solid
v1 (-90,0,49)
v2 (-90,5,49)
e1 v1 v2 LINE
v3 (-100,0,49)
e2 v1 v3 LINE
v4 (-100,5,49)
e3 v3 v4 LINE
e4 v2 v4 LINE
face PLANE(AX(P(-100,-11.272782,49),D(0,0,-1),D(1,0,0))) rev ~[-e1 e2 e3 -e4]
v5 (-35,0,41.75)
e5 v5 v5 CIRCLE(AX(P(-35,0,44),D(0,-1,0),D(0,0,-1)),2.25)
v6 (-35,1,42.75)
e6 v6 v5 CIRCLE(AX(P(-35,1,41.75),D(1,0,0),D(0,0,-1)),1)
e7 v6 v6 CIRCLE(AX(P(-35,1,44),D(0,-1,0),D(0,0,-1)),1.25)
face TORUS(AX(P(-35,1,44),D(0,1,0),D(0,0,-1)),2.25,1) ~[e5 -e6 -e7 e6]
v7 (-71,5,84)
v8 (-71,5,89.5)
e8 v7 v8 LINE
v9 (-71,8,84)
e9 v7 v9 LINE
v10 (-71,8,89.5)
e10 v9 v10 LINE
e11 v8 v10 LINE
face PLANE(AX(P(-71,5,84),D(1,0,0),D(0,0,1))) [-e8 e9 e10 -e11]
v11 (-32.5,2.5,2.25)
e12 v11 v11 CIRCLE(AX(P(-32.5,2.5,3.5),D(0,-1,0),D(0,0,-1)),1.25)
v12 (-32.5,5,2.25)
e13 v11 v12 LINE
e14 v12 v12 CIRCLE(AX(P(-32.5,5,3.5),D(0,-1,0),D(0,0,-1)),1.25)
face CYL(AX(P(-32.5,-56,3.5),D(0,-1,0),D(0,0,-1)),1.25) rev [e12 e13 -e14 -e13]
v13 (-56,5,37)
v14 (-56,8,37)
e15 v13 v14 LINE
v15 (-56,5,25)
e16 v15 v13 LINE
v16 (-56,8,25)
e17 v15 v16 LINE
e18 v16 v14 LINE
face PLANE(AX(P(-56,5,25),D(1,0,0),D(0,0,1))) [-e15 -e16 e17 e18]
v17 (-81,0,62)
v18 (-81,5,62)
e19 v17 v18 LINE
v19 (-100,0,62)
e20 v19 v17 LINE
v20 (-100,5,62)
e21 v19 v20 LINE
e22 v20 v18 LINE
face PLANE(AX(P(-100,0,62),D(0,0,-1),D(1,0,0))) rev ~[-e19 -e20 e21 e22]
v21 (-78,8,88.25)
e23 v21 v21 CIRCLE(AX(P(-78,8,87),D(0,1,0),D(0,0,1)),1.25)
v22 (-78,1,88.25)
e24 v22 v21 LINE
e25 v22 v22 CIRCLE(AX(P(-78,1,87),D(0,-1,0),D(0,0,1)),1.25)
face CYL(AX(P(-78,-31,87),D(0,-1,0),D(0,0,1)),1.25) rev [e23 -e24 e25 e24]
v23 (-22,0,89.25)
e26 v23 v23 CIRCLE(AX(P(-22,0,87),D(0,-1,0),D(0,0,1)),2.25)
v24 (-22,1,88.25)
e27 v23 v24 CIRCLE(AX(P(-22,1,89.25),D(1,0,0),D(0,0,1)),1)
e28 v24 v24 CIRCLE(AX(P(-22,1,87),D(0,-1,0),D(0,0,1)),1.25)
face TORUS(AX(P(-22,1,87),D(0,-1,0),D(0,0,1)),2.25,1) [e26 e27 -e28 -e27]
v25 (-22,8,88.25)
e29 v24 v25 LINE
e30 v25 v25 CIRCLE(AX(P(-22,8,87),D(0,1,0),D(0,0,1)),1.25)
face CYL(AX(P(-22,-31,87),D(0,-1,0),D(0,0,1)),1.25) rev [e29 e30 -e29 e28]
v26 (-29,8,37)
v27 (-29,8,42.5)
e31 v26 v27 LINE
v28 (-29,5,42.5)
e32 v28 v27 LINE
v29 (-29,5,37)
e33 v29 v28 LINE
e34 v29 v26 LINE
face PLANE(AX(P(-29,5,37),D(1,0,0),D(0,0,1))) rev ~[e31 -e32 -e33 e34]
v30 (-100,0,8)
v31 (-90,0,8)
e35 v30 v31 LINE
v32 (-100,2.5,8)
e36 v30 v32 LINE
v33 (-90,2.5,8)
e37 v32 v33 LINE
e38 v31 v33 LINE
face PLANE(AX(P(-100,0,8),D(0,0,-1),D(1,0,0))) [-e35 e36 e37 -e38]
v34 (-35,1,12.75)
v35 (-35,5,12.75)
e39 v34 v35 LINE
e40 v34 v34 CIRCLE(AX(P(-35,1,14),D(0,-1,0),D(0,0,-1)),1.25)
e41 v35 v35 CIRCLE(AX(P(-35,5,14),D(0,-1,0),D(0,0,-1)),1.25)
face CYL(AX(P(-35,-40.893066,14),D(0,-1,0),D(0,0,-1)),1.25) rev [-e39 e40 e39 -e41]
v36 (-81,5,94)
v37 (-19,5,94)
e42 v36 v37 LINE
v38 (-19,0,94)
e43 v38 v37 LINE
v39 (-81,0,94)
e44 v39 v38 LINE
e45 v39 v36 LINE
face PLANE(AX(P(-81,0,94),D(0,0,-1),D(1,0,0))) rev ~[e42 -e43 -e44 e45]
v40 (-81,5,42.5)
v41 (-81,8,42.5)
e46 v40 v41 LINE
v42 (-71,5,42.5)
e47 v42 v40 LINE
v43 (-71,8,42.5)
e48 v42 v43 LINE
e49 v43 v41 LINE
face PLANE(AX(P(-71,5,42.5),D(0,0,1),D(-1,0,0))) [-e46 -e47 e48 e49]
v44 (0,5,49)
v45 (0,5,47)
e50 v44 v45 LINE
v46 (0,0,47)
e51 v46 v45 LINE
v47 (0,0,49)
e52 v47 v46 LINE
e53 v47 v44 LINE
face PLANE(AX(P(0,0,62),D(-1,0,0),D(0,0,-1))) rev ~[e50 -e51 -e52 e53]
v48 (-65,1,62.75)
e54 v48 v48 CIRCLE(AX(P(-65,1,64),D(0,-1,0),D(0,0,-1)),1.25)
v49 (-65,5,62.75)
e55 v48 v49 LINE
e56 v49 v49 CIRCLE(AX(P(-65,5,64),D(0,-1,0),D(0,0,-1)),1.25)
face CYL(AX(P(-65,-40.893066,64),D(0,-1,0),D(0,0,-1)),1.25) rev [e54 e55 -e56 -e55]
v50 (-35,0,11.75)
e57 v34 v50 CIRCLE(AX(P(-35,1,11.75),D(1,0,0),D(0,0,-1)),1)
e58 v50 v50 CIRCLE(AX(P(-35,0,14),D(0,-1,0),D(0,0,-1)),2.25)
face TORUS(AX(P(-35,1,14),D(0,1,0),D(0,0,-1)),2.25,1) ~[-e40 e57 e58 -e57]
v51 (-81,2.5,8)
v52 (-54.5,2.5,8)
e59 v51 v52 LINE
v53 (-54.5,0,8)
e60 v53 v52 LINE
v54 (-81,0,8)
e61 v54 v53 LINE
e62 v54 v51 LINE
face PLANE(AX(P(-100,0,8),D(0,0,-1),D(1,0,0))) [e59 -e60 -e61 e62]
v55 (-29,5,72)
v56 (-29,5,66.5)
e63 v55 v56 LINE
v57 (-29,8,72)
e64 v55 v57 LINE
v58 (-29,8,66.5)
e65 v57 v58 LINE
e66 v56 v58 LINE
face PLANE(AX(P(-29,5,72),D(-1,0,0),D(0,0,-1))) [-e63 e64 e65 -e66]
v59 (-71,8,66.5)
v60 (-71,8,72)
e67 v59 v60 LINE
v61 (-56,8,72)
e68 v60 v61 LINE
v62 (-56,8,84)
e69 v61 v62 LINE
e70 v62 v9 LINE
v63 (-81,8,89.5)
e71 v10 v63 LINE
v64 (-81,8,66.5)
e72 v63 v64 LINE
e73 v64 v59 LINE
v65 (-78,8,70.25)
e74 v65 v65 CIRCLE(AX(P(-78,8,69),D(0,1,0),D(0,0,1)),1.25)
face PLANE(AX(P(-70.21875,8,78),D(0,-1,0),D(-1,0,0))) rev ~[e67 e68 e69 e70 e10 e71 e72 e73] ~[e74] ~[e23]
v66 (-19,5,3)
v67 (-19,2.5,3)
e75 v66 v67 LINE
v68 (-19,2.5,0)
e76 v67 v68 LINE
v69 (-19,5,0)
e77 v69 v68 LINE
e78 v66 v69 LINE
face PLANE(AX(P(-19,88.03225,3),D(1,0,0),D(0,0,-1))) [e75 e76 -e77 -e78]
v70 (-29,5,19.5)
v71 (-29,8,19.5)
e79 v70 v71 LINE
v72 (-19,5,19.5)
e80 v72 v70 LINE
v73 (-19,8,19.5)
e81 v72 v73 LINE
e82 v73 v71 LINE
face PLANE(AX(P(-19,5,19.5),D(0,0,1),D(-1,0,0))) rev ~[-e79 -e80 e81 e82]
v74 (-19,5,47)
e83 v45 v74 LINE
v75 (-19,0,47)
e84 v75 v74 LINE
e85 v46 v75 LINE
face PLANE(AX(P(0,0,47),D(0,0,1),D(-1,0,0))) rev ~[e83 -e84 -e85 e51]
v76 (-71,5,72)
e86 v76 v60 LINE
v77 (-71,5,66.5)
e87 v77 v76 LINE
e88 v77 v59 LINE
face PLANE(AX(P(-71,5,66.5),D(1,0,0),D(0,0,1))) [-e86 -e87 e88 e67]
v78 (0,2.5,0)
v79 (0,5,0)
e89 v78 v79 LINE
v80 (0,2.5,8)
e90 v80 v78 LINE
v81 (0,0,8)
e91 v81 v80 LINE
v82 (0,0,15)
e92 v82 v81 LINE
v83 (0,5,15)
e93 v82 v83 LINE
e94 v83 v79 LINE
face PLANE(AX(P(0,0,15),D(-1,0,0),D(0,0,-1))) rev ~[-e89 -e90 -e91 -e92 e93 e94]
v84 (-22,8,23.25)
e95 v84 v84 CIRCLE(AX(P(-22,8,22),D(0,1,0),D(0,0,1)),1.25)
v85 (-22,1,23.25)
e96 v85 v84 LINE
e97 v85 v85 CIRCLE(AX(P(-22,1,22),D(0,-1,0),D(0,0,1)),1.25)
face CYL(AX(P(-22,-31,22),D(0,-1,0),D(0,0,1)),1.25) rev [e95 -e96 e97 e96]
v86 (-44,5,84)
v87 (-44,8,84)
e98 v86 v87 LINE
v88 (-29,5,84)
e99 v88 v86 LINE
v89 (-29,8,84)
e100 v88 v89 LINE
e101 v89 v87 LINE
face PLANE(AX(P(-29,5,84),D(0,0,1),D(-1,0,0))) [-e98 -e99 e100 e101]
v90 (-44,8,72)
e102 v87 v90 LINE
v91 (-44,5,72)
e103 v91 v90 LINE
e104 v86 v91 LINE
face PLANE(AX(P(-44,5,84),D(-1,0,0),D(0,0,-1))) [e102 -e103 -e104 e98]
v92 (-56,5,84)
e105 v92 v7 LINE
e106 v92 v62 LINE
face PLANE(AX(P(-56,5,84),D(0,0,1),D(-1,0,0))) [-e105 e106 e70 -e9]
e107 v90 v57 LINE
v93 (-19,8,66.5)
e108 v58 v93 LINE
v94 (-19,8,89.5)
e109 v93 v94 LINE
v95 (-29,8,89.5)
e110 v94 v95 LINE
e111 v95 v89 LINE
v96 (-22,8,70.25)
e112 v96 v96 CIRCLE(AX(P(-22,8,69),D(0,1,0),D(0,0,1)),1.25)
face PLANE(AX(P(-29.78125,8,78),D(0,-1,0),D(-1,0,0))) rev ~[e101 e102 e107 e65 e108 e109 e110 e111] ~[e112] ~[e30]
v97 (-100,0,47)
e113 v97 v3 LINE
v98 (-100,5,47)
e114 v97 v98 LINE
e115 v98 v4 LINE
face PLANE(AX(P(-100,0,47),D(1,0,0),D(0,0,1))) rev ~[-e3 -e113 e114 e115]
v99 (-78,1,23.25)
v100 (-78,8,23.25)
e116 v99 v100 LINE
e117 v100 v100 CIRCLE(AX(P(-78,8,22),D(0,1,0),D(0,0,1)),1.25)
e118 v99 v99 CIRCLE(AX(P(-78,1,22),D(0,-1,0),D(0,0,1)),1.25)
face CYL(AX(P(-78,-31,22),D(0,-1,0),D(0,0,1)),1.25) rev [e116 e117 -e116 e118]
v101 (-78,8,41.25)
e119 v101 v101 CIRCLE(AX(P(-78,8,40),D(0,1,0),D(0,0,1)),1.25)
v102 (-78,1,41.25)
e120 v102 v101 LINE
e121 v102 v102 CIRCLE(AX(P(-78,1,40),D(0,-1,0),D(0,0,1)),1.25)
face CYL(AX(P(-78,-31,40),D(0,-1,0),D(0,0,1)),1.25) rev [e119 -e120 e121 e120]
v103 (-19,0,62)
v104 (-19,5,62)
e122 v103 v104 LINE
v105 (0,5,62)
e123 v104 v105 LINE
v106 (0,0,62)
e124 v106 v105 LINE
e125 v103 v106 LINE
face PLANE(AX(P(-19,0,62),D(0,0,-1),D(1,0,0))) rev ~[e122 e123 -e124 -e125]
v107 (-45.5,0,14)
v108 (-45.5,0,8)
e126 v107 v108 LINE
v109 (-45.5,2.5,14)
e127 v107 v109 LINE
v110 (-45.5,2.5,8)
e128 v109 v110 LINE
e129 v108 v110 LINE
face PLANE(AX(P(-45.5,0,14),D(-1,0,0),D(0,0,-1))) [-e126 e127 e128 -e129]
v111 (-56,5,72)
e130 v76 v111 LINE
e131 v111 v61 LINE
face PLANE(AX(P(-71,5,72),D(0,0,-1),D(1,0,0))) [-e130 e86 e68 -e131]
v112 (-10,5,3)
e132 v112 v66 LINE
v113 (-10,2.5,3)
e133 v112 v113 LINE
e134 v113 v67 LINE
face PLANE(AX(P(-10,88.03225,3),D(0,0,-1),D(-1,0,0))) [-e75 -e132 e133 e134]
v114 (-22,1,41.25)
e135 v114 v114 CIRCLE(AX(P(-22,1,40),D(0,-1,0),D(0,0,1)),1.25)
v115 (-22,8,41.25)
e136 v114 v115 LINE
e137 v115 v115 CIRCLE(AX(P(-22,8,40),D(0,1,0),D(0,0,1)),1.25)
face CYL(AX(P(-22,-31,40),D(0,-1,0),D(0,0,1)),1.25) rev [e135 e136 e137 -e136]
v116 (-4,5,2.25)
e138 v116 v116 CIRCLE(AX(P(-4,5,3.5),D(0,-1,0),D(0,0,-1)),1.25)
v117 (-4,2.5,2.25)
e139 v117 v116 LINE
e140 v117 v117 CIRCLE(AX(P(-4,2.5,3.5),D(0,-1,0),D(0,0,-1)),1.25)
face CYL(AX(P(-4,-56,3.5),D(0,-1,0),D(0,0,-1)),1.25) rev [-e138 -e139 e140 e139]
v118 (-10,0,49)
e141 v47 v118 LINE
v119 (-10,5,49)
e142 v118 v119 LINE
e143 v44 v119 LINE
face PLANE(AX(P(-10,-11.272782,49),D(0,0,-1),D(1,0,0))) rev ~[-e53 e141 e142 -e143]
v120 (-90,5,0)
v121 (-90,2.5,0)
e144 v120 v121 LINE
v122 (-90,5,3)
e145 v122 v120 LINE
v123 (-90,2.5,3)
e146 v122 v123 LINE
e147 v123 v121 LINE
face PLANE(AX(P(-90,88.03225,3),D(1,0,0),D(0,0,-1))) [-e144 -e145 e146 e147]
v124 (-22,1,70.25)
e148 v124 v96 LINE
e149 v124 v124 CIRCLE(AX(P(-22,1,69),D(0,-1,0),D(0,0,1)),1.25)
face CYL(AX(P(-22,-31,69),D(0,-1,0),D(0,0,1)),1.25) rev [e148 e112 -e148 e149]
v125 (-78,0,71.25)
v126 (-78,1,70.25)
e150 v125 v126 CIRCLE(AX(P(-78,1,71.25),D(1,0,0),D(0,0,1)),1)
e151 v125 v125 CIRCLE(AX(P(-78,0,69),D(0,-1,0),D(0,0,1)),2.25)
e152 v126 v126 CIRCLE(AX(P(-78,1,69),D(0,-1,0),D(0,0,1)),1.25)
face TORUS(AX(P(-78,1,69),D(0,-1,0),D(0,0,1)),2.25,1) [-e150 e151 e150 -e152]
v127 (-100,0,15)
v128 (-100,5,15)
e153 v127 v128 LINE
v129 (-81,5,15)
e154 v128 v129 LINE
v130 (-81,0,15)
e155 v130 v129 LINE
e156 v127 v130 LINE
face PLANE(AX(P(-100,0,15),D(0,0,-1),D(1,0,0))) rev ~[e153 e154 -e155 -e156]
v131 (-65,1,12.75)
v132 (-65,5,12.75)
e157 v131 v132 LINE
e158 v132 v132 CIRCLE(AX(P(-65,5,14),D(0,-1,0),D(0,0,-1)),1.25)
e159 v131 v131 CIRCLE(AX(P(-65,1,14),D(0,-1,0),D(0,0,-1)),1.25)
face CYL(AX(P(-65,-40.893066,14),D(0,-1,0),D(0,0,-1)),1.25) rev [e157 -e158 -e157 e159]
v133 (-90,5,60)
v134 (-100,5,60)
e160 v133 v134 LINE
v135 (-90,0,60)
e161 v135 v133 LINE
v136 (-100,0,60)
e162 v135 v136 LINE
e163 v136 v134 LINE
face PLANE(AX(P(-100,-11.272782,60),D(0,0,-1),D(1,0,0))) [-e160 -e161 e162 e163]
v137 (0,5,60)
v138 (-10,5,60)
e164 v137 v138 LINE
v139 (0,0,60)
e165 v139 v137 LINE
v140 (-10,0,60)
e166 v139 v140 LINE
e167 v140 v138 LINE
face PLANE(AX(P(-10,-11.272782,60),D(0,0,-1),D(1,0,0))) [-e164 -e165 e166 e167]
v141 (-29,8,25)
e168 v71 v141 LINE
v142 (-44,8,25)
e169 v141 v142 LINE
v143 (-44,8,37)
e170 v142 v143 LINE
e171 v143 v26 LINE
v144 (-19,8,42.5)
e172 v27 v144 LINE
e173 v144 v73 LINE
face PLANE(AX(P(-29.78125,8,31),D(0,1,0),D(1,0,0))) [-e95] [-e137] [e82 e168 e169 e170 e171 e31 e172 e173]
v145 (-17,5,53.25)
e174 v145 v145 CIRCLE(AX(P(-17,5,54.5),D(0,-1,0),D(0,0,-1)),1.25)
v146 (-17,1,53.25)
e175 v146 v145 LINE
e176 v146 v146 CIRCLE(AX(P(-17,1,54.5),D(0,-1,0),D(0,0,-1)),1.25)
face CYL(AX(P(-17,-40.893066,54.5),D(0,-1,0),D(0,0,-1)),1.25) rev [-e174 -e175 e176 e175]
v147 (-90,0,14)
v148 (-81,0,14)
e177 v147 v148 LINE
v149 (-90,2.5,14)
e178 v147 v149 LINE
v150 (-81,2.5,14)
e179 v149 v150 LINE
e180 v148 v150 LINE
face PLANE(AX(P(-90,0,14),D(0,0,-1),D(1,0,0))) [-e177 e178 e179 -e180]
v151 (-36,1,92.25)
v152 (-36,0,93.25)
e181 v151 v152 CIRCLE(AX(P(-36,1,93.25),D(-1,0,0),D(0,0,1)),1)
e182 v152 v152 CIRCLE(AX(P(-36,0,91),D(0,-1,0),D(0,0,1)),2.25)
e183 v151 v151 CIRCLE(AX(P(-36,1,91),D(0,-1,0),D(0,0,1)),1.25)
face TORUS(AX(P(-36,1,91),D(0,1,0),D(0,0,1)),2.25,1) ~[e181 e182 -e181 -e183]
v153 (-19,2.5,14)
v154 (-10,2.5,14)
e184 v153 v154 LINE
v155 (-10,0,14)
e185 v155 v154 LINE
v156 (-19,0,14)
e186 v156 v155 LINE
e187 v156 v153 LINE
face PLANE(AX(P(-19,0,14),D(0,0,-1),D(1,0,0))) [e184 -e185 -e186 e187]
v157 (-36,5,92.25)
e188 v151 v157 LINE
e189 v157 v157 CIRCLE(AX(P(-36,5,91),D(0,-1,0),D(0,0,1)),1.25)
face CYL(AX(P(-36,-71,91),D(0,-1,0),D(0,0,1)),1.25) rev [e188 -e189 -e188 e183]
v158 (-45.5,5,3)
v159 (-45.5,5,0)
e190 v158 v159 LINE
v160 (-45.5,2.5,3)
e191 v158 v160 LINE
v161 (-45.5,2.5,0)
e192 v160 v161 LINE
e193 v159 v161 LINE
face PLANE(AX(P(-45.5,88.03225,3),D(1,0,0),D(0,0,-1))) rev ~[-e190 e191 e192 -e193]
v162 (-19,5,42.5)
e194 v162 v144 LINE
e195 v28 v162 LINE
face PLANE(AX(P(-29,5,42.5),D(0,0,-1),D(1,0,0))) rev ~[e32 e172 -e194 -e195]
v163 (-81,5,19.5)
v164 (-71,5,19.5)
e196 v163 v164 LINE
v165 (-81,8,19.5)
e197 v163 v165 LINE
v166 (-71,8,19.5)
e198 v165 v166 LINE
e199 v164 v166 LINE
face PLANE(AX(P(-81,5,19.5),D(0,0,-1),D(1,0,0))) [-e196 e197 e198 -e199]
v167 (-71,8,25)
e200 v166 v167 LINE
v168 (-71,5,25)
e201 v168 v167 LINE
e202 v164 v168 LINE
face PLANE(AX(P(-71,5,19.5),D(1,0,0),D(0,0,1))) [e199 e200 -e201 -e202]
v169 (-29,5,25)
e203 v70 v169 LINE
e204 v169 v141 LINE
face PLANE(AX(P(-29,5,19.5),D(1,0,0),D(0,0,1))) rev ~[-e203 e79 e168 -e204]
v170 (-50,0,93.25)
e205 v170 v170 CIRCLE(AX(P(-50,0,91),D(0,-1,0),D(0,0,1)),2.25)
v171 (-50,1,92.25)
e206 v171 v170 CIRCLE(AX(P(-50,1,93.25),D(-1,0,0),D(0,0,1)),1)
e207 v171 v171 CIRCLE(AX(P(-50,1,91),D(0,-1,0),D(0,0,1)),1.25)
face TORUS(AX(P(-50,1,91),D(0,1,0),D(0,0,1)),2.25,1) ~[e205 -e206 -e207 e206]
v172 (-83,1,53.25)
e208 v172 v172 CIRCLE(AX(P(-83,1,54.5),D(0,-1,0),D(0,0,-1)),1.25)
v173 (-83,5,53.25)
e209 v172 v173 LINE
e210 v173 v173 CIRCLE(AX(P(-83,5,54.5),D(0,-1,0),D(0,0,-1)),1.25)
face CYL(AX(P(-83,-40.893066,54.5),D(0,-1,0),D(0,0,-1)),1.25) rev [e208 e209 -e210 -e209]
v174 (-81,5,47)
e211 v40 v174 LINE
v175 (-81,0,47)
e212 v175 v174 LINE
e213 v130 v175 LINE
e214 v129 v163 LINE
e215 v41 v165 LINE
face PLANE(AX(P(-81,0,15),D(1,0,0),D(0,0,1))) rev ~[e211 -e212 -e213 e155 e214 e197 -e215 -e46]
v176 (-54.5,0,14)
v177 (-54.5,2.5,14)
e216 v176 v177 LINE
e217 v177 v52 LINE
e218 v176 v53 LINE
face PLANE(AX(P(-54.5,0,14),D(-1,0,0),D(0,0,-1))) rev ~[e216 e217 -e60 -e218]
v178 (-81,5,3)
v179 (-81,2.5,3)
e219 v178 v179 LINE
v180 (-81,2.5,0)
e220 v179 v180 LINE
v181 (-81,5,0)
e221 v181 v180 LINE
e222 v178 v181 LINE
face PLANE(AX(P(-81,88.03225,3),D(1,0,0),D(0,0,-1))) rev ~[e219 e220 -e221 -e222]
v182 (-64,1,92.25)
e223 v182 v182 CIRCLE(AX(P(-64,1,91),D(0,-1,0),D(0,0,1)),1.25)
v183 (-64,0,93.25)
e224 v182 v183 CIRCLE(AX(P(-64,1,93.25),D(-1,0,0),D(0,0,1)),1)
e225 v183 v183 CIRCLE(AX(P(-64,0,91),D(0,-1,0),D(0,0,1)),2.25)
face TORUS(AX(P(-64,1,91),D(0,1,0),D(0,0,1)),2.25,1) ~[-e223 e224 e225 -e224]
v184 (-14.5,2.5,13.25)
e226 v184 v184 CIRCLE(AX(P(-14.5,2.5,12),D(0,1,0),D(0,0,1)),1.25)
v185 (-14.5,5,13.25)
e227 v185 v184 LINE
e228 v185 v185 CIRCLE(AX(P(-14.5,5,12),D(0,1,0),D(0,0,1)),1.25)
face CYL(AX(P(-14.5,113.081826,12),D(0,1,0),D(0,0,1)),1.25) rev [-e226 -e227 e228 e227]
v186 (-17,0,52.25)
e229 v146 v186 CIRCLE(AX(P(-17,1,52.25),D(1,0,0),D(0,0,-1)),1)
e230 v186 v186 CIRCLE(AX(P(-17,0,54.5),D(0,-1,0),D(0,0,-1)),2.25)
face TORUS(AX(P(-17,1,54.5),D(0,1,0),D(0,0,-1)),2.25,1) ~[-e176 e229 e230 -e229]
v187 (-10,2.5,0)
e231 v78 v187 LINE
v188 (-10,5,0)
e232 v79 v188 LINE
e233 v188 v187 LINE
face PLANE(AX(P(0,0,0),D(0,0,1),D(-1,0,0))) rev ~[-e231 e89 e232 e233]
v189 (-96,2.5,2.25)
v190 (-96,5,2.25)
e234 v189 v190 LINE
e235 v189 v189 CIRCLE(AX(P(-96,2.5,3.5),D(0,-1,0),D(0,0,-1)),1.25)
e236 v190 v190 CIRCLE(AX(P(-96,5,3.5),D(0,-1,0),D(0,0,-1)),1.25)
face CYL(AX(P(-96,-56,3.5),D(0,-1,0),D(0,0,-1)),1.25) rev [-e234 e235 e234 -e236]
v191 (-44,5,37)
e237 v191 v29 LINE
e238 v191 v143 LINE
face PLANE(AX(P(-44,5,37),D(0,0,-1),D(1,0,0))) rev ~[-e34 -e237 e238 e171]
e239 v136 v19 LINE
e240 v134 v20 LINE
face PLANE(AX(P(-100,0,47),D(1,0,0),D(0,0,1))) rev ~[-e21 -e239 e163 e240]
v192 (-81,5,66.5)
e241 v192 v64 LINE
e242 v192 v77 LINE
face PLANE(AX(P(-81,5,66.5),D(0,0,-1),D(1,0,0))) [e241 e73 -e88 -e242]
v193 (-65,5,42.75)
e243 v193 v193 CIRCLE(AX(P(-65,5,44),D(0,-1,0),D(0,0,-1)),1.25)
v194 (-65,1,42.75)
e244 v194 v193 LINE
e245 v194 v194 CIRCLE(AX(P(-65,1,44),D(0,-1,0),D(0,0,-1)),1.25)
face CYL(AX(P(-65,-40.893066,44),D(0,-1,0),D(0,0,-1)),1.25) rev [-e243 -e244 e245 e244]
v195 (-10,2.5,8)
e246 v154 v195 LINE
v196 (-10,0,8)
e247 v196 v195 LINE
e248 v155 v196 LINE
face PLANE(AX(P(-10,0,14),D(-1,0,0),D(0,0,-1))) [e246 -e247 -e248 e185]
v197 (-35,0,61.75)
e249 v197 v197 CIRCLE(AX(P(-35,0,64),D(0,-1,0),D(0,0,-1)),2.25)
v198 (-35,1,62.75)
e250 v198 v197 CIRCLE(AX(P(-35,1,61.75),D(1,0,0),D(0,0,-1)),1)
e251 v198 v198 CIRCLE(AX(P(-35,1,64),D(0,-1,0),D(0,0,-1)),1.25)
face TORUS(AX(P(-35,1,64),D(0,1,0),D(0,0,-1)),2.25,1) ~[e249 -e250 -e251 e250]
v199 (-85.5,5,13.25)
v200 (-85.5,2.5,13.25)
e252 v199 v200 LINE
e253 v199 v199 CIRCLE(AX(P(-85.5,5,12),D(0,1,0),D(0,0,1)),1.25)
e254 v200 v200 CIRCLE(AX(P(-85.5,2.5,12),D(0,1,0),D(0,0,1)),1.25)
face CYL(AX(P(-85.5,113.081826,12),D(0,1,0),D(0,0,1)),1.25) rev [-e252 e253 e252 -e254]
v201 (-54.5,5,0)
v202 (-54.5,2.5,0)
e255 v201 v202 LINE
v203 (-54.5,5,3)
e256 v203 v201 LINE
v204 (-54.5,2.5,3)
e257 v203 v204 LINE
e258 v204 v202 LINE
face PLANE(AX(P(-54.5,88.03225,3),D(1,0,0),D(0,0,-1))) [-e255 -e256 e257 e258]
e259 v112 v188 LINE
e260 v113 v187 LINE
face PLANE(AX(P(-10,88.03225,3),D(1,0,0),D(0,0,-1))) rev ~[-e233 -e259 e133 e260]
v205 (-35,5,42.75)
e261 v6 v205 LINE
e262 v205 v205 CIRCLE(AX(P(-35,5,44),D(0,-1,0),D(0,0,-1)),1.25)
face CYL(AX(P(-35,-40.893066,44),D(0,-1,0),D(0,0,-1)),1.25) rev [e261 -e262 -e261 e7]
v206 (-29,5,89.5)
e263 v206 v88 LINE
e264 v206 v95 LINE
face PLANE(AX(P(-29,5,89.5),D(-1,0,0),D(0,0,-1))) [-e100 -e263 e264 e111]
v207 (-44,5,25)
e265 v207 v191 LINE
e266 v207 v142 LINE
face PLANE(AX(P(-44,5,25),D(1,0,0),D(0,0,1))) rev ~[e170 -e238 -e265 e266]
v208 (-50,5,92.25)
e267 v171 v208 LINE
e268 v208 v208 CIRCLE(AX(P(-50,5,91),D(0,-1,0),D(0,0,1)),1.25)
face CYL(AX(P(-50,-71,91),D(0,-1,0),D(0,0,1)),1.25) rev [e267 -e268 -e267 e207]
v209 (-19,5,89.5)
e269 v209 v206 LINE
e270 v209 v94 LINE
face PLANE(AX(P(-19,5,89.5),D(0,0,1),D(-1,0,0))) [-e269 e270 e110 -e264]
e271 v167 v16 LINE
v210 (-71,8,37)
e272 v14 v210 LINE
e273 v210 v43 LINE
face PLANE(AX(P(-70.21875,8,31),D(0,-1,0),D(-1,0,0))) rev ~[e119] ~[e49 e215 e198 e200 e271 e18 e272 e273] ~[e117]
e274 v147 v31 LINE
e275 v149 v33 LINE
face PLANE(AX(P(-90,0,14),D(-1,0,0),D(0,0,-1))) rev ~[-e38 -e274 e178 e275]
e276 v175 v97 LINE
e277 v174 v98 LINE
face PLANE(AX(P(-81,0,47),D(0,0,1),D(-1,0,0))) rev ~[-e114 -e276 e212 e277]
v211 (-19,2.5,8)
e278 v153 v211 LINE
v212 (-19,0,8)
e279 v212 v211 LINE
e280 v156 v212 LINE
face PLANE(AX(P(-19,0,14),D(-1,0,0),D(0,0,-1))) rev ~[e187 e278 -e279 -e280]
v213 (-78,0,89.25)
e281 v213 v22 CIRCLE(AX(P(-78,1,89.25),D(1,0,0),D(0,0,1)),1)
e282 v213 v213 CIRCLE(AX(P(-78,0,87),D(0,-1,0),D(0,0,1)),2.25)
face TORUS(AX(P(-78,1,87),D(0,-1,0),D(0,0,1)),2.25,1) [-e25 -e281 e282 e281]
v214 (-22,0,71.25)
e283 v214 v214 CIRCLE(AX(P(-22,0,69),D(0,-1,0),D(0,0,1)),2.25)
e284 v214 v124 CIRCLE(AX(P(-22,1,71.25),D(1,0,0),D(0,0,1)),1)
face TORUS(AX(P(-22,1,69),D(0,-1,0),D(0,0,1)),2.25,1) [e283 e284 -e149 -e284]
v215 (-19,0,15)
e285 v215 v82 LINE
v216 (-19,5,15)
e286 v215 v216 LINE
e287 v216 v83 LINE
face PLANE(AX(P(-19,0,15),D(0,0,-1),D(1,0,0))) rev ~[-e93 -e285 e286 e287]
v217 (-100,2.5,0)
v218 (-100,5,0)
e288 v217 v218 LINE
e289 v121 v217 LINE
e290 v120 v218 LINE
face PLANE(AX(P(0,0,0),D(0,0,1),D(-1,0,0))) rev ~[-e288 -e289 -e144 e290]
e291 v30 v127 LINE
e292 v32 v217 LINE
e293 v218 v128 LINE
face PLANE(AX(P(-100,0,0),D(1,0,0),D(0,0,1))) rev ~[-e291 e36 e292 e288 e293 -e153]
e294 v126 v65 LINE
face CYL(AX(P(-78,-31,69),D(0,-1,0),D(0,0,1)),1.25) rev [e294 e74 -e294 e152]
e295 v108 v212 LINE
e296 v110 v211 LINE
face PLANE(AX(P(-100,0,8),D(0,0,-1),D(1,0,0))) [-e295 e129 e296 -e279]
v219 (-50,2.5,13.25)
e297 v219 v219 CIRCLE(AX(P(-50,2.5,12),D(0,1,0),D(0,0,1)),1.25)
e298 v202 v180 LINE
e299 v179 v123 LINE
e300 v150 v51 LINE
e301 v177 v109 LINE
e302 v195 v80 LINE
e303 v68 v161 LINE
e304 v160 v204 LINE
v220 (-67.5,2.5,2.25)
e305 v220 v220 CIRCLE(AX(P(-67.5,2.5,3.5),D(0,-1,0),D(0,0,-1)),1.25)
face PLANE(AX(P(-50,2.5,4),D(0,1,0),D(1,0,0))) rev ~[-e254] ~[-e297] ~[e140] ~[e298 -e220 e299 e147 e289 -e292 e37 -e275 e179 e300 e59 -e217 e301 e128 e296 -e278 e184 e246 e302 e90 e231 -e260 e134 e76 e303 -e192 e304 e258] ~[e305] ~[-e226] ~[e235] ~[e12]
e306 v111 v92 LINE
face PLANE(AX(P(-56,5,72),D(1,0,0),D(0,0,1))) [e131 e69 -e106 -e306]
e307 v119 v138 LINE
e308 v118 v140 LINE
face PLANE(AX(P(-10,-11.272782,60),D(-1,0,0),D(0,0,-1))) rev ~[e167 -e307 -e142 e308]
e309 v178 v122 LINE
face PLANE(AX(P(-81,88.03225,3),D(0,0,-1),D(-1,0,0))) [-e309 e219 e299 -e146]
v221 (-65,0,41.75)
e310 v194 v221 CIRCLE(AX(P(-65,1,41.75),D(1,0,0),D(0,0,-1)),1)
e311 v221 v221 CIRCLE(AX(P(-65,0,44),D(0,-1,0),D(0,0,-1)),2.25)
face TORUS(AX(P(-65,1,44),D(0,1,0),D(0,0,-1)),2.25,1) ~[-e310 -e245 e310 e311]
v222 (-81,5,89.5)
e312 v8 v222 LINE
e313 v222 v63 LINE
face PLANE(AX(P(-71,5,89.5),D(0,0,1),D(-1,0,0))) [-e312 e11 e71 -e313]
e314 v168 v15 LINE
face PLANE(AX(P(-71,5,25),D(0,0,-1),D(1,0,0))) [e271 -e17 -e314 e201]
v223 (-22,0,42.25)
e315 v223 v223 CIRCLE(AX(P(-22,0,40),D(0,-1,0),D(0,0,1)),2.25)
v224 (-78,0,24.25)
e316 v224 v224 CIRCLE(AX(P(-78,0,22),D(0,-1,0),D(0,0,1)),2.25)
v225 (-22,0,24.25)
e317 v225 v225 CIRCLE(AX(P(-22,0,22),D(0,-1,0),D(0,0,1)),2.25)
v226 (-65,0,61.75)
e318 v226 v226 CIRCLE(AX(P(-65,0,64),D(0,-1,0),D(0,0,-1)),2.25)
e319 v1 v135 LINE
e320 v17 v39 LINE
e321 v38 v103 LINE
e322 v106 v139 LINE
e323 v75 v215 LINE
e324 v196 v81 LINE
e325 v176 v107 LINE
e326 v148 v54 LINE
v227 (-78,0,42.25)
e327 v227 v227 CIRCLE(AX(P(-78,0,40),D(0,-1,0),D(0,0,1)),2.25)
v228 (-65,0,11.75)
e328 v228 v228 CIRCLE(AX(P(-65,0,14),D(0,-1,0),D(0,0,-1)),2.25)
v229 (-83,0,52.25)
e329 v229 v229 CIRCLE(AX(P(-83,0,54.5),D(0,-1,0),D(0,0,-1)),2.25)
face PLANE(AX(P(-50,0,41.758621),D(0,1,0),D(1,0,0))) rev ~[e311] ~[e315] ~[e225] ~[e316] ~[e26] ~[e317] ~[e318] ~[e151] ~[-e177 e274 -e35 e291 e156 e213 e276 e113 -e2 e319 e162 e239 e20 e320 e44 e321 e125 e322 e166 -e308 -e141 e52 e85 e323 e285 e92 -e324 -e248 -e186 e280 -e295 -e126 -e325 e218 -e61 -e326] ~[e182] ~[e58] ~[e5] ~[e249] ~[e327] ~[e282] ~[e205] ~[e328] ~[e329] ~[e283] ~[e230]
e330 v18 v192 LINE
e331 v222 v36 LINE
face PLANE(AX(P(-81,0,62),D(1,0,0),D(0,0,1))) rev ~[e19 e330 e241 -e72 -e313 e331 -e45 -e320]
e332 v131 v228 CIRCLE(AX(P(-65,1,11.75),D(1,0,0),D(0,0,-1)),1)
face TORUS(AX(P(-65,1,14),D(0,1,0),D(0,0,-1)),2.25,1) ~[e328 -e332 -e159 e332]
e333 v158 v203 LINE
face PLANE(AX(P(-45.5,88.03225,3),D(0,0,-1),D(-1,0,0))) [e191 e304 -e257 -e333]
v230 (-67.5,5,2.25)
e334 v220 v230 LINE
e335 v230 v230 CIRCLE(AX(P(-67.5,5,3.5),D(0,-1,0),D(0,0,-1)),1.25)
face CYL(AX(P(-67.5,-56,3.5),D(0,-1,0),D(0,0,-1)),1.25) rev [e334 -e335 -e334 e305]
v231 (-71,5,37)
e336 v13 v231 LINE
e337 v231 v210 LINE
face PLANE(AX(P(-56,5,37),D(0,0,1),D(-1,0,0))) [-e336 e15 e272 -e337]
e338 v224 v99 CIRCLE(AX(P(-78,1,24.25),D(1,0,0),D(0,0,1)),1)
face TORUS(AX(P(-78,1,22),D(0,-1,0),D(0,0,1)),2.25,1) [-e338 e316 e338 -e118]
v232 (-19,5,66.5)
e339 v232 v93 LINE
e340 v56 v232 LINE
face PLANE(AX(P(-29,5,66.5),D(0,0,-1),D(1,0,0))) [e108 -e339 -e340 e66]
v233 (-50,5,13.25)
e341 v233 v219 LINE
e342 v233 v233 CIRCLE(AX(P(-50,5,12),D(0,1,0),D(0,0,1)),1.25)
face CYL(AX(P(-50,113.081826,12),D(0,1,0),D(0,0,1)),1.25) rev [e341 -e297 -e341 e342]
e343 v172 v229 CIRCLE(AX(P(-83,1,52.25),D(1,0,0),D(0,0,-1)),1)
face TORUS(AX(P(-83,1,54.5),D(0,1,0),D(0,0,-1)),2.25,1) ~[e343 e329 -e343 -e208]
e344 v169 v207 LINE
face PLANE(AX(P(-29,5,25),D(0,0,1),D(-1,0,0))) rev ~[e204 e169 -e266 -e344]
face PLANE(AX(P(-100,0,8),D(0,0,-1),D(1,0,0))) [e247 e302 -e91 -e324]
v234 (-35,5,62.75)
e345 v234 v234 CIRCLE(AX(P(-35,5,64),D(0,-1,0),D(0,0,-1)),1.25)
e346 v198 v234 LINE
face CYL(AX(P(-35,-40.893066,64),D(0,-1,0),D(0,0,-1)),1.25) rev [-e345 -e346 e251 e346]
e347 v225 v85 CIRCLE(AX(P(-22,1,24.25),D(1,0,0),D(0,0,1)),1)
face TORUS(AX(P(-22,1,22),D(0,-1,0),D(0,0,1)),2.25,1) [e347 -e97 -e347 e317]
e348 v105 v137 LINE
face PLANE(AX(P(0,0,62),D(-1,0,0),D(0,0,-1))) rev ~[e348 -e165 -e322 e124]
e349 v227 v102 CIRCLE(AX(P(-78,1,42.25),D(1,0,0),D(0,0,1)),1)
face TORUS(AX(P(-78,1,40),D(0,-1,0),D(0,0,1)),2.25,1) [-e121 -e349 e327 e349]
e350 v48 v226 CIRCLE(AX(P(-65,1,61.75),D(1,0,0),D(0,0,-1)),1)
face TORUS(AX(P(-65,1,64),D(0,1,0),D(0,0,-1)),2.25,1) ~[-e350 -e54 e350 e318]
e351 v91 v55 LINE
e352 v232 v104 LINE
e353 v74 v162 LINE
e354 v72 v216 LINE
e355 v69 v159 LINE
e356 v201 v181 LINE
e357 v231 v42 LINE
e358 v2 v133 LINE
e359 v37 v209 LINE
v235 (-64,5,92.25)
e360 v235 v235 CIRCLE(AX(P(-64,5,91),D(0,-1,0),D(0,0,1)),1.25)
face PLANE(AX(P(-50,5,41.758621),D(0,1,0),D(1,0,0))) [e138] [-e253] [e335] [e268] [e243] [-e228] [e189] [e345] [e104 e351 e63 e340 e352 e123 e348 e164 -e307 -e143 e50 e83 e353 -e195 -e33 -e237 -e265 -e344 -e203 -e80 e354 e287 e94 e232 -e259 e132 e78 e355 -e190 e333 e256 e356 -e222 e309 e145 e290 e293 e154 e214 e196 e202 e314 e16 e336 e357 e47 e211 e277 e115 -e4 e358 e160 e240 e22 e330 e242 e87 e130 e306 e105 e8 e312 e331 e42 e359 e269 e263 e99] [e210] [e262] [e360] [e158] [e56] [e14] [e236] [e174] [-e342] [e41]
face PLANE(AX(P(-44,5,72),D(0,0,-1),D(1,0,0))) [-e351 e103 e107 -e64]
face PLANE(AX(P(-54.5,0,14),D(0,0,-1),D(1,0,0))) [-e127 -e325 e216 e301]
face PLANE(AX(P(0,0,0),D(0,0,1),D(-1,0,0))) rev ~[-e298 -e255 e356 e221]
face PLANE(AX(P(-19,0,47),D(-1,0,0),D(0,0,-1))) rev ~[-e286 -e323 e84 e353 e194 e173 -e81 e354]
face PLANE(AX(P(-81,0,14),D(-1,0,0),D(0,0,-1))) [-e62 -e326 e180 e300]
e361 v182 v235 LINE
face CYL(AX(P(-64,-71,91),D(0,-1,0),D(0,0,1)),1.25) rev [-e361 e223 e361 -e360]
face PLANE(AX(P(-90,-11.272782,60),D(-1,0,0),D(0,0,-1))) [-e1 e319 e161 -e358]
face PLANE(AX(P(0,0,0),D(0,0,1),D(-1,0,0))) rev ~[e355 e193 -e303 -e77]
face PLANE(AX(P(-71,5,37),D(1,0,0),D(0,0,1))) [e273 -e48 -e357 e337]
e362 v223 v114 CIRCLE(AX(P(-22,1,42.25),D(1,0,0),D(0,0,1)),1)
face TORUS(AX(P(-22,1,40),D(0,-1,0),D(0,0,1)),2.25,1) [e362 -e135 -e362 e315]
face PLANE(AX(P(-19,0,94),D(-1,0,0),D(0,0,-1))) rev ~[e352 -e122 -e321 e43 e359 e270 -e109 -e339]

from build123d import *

# Parameters (mm, degrees)
KSZTA_T_OGOLNY_DEPTH            = 5
MIEJSCE_NA_SHARPY_DEPTH         = 19
MIEJSCE_NA_SHARPY_DEPTH_BACK    = 16.272781758
WCI_CIE_NA_SHARP_W              = 10
WCI_CIE_NA_SHARP_H              = 11
WCI_CIE_NA_PO_CZENIEP_UGU_W     = 100
WCI_CIE_NA_PO_CZENIEP_UGU_H     = 8
MIEJSCE_NA_P_UG_DEPTH           = 2.5
WCI_CIA_NA_KTIRY_W              = 9
WCI_CIA_NA_KTIRY_H              = 14
MIEJSCE_NA_KTIR_DEPTH           = 2.5
SILNIKI_START                   = 5
PODWY_SZENIE_NA_SILNIKI_R       = 1.25
SILNIKI_PODWYZSZENIE_DEPTH      = 3
SILNIKI_DZIURY_DEPTH            = 35
SILNIKI_DZIURY_DEPTH_BACK       = 31
PODWY_SZENIE_NA_SILNIKI_3_R     = 1.25
OTWORY_NA_P_UG_DEPTH            = 42
OTWORY_NA_P_UG_DEPTH_BACK       = 56
OTWORY_NA_P_UG_2_R              = 1.25
OTWORY_TY_DEPTH                 = 54
OTWORY_TY_DEPTH_BACK            = 71
OTWORY_TY_RYS_R                 = 1.25
OTWORY_NA_PCB_DEPTH             = 40
OTWORY_NA_PCB_DEPTH_BACK        = 40.893066204
OTWORY_RYS_R                    = 1.25
KABLE_KTIR_DEPTH                = 61
KABLE_KTIR_DEPTH_BACK           = 85.532250354
MIEJSCE_NA_KABLE_KTIR_W         = 9
MIEJSCE_NA_KABLE_KTIR_H         = 3
OTWORY_MOCUJACE_KTIR_DEPTH      = 70
OTWORY_MOCUJACE_KTIR_DEPTH_BACK = 110.581826372
OTWORY_NA_MOCOWANIE_KTIR_RYS_R  = 1.25
ZAOKR_GLENIE1_R                 = 1


with BuildPart() as part:
    # Kształt ogólny → Kształt ogolny (new body)
    with BuildSketch(Plane(origin=(0, 0, 0), x_dir=(1, 0, 0), z_dir=(0, 1, 0))):
        Polygon((0, 0), (-100, 0), (-100, -15), (-81, -15), (-81, -47), (-100, -47), (-100, -62), (-81, -62), (-81, -94), (-19, -94), (-19, -62), (0, -62), (0, -47), (-19, -47), (-19, -15), (0, -15), align=None)
    extrude(amount=KSZTA_T_OGOLNY_DEPTH)

    # Wcięcie na sharp → Miejsce na sharpy (cut, two sides: drawn at the far end of the back side and taken through both)
    with BuildSketch(Plane(origin=(0, 5, 0), x_dir=(1, 0, 0), z_dir=(0, 1, 0)).offset(-MIEJSCE_NA_SHARPY_DEPTH_BACK)):
        with Locations((-95, -54.5)):
            Rectangle(WCI_CIE_NA_SHARP_W, WCI_CIE_NA_SHARP_H)
        with Locations((-5, -54.5)):
            Rectangle(WCI_CIE_NA_SHARP_W, WCI_CIE_NA_SHARP_H)
    extrude(amount=MIEJSCE_NA_SHARPY_DEPTH + MIEJSCE_NA_SHARPY_DEPTH_BACK, mode=Mode.SUBTRACT)

    # Wcięcie na połączeniepługu → Miejsce na pług (cut)
    with BuildSketch(Plane(origin=(0, 0, 0), x_dir=(1, 0, 0), z_dir=(0, 1, 0))):
        with Locations((-50, -4)):
            Rectangle(WCI_CIE_NA_PO_CZENIEP_UGU_W, WCI_CIE_NA_PO_CZENIEP_UGU_H)
    extrude(amount=MIEJSCE_NA_P_UG_DEPTH, mode=Mode.SUBTRACT)

    # Wcięcia na ktiry → Miejsce na ktir (cut)
    with BuildSketch(Plane(origin=(0, 0, 0), x_dir=(1, 0, 0), z_dir=(0, 1, 0))):
        with Locations((-85.5, -7)):
            Rectangle(WCI_CIA_NA_KTIRY_W, WCI_CIA_NA_KTIRY_H)
        with Locations((-50, -7)):
            Rectangle(WCI_CIA_NA_KTIRY_W, WCI_CIA_NA_KTIRY_H)
        with Locations((-14.5, -7)):
            Rectangle(WCI_CIA_NA_KTIRY_W, WCI_CIA_NA_KTIRY_H)
    extrude(amount=MIEJSCE_NA_KTIR_DEPTH, mode=Mode.SUBTRACT)

    # Podwyższenie na silniki → Silniki - podwyzszenie (add)
    # profile 1 of 4: a face of its own
    with BuildSketch(Plane(origin=(0, 0, 0), x_dir=(1, 0, 0), z_dir=(0, 1, 0)).offset(SILNIKI_START)):
        Polygon((-81, -66.5), (-71, -66.5), (-71, -72), (-56, -72), (-56, -84), (-71, -84), (-71, -89.5), (-81, -89.5), align=None)
        with Locations(Location((-78, -69, 0), (0, 0, 270))):
            Circle(PODWY_SZENIE_NA_SILNIKI_R, mode=Mode.SUBTRACT)
        with Locations(Location((-78, -87, 0), (0, 0, 270))):
            Circle(PODWY_SZENIE_NA_SILNIKI_R, mode=Mode.SUBTRACT)
    # profile 2 of 4: a face of its own
    with BuildSketch(Plane(origin=(0, 0, 0), x_dir=(1, 0, 0), z_dir=(0, 1, 0)).offset(SILNIKI_START)):
        Polygon((-19, -89.5), (-29, -89.5), (-29, -84), (-44, -84), (-44, -72), (-29, -72), (-29, -66.5), (-19, -66.5), align=None)
        with Locations(Location((-22, -69, 0), (0, 0, 270))):
            Circle(PODWY_SZENIE_NA_SILNIKI_R, mode=Mode.SUBTRACT)
        with Locations(Location((-22, -87, 0), (0, 0, 270))):
            Circle(PODWY_SZENIE_NA_SILNIKI_R, mode=Mode.SUBTRACT)
    # profile 3 of 4: a face of its own
    with BuildSketch(Plane(origin=(0, 0, 0), x_dir=(1, 0, 0), z_dir=(0, 1, 0)).offset(SILNIKI_START)):
        Polygon((-81, -19.5), (-71, -19.5), (-71, -25), (-56, -25), (-56, -37), (-71, -37), (-71, -42.5), (-81, -42.5), align=None)
        with Locations(Location((-78, -22, 0), (0, 0, 270))):
            Circle(PODWY_SZENIE_NA_SILNIKI_R, mode=Mode.SUBTRACT)
        with Locations(Location((-78, -40, 0), (0, 0, 270))):
            Circle(PODWY_SZENIE_NA_SILNIKI_R, mode=Mode.SUBTRACT)
    # profile 4 of 4: a face of its own
    with BuildSketch(Plane(origin=(0, 0, 0), x_dir=(1, 0, 0), z_dir=(0, 1, 0)).offset(SILNIKI_START)):
        Polygon((-19, -19.5), (-29, -19.5), (-29, -25), (-44, -25), (-44, -37), (-29, -37), (-29, -42.5), (-19, -42.5), align=None)
        with Locations(Location((-22, -22, 0), (0, 0, 270))):
            Circle(PODWY_SZENIE_NA_SILNIKI_R, mode=Mode.SUBTRACT)
        with Locations(Location((-22, -40, 0), (0, 0, 270))):
            Circle(PODWY_SZENIE_NA_SILNIKI_R, mode=Mode.SUBTRACT)
    extrude(amount=SILNIKI_PODWYZSZENIE_DEPTH)

    # Podwyższenie na silniki<3> → Silniki -dziury (cut, two sides: drawn at the far end of the back side and taken through both)
    with BuildSketch(Plane(origin=(0, 0, 0), x_dir=(1, 0, 0), z_dir=(0, 1, 0)).offset(-SILNIKI_DZIURY_DEPTH_BACK)):
        with Locations(Location((-78, -87, 0), (0, 0, 270))):
            Circle(PODWY_SZENIE_NA_SILNIKI_3_R)
        with Locations(Location((-78, -69, 0), (0, 0, 270))):
            Circle(PODWY_SZENIE_NA_SILNIKI_3_R)
        with Locations(Location((-78, -40, 0), (0, 0, 270))):
            Circle(PODWY_SZENIE_NA_SILNIKI_3_R)
        with Locations(Location((-78, -22, 0), (0, 0, 270))):
            Circle(PODWY_SZENIE_NA_SILNIKI_3_R)
        with Locations(Location((-22, -22, 0), (0, 0, 270))):
            Circle(PODWY_SZENIE_NA_SILNIKI_3_R)
        with Locations(Location((-22, -40, 0), (0, 0, 270))):
            Circle(PODWY_SZENIE_NA_SILNIKI_3_R)
        with Locations(Location((-22, -69, 0), (0, 0, 270))):
            Circle(PODWY_SZENIE_NA_SILNIKI_3_R)
        with Locations(Location((-22, -87, 0), (0, 0, 270))):
            Circle(PODWY_SZENIE_NA_SILNIKI_3_R)
    extrude(amount=SILNIKI_DZIURY_DEPTH + SILNIKI_DZIURY_DEPTH_BACK, mode=Mode.SUBTRACT)

    # Otwory na p_ug 2 → Otwory na p_ug (cut, two sides: drawn at the far end of the back side and taken through both)
    with BuildSketch(Plane(origin=(0, 0, 0), x_dir=(1, 0, 0), z_dir=(0, 1, 0)).offset(-OTWORY_NA_P_UG_DEPTH_BACK)):
        with Locations(Location((-96, -3.5, 0), (0, 0, 90))):
            Circle(OTWORY_NA_P_UG_2_R)
        with Locations(Location((-67.5, -3.5, 0), (0, 0, 90))):
            Circle(OTWORY_NA_P_UG_2_R)
        with Locations(Location((-32.5, -3.5, 0), (0, 0, 90))):
            Circle(OTWORY_NA_P_UG_2_R)
        with Locations(Location((-4, -3.5, 0), (0, 0, 90))):
            Circle(OTWORY_NA_P_UG_2_R)
    extrude(amount=OTWORY_NA_P_UG_DEPTH + OTWORY_NA_P_UG_DEPTH_BACK, mode=Mode.SUBTRACT)

    # Otwory tył(rys) → Otwory tył (cut, two sides: drawn at the far end of the back side and taken through both)
    with BuildSketch(Plane(origin=(0, 0, 0), x_dir=(1, 0, 0), z_dir=(0, 1, 0)).offset(-OTWORY_TY_DEPTH_BACK)):
        with Locations(Location((-50, -91, 0), (0, 0, 270))):
            Circle(OTWORY_TY_RYS_R)
        with Locations(Location((-36, -91, 0), (0, 0, 270))):
            Circle(OTWORY_TY_RYS_R)
        with Locations(Location((-64, -91, 0), (0, 0, 270))):
            Circle(OTWORY_TY_RYS_R)
    extrude(amount=OTWORY_TY_DEPTH + OTWORY_TY_DEPTH_BACK, mode=Mode.SUBTRACT)

    # Otwory rys → Otwory na pcb (cut, two sides: drawn at the far end of the back side and taken through both)
    with BuildSketch(Plane(origin=(0, 0, 0), x_dir=(1, 0, 0), z_dir=(0, 1, 0)).offset(-OTWORY_NA_PCB_DEPTH_BACK)):
        with Locations(Location((-65, -44, 0), (0, 0, 90))):
            Circle(OTWORY_RYS_R)
        with Locations(Location((-35, -44, 0), (0, 0, 90))):
            Circle(OTWORY_RYS_R)
        with Locations(Location((-35, -64, 0), (0, 0, 90))):
            Circle(OTWORY_RYS_R)
        with Locations(Location((-65, -64, 0), (0, 0, 90))):
            Circle(OTWORY_RYS_R)
        with Locations(Location((-65, -14, 0), (0, 0, 90))):
            Circle(OTWORY_RYS_R)
        with Locations(Location((-35, -14, 0), (0, 0, 90))):
            Circle(OTWORY_RYS_R)
        with Locations(Location((-83, -54.5, 0), (0, 0, 90))):
            Circle(OTWORY_RYS_R)
        with Locations(Location((-17, -54.5, 0), (0, 0, 90))):
            Circle(OTWORY_RYS_R)
    extrude(amount=OTWORY_NA_PCB_DEPTH + OTWORY_NA_PCB_DEPTH_BACK, mode=Mode.SUBTRACT)

    # Miejsce na kable ktir → Kable ktir (cut, two sides: drawn at the far end of the back side and taken through both)
    with BuildSketch(Plane(origin=(0, 2.5, 0), x_dir=(-1, 0, 0), z_dir=(0, -1, 0)).offset(-KABLE_KTIR_DEPTH_BACK)):
        with Locations((14.5, -1.5)):
            Rectangle(MIEJSCE_NA_KABLE_KTIR_W, MIEJSCE_NA_KABLE_KTIR_H)
        with Locations((50, -1.5)):
            Rectangle(MIEJSCE_NA_KABLE_KTIR_W, MIEJSCE_NA_KABLE_KTIR_H)
        with Locations((85.5, -1.5)):
            Rectangle(MIEJSCE_NA_KABLE_KTIR_W, MIEJSCE_NA_KABLE_KTIR_H)
    extrude(amount=KABLE_KTIR_DEPTH + KABLE_KTIR_DEPTH_BACK, mode=Mode.SUBTRACT)

    # Otwory na mocowanie ktir rys → Otwory mocujace ktir (cut, two sides: drawn at the far end of the back side and taken through both)
    with BuildSketch(Plane(origin=(0, 2.5, 0), x_dir=(-1, 0, 0), z_dir=(0, -1, 0)).offset(-OTWORY_MOCUJACE_KTIR_DEPTH_BACK)):
        with Locations(Location((14.5, -12, 0), (0, 0, 270))):
            Circle(OTWORY_NA_MOCOWANIE_KTIR_RYS_R)
        with Locations(Location((50, -12, 0), (0, 0, 270))):
            Circle(OTWORY_NA_MOCOWANIE_KTIR_RYS_R)
        with Locations(Location((85.5, -12, 0), (0, 0, 270))):
            Circle(OTWORY_NA_MOCOWANIE_KTIR_RYS_R)
    extrude(amount=OTWORY_MOCUJACE_KTIR_DEPTH + OTWORY_MOCUJACE_KTIR_DEPTH_BACK, mode=Mode.SUBTRACT)

    # Zaokrąglenie1
    zaokr_glenie1_edges = [part.edges().sort_by_distance(p)[0] for p in [
        (-78, 0, 67.75),
        (-78, 0, 38.75),
        (-78, 0, 20.75),
        (-22, 0, 20.75),
        (-22, 0, 38.75),
        (-22, 0, 67.75),
        (-22, 0, 85.75),
        (-78, 0, 85.75),
        (-64, 0, 89.75),
        (-36, 0, 89.75),
        (-50, 0, 89.75),
        (-35, 0, 45.25),
        (-35, 0, 65.25),
        (-65, 0, 65.25),
        (-65, 0, 15.25),
        (-35, 0, 15.25),
        (-83, 0, 55.75),
        (-17, 0, 55.75),
        (-65, 0, 45.25),
    ]]
    fillet(zaokr_glenie1_edges, radius=ZAOKR_GLENIE1_R)


solid = part.part
